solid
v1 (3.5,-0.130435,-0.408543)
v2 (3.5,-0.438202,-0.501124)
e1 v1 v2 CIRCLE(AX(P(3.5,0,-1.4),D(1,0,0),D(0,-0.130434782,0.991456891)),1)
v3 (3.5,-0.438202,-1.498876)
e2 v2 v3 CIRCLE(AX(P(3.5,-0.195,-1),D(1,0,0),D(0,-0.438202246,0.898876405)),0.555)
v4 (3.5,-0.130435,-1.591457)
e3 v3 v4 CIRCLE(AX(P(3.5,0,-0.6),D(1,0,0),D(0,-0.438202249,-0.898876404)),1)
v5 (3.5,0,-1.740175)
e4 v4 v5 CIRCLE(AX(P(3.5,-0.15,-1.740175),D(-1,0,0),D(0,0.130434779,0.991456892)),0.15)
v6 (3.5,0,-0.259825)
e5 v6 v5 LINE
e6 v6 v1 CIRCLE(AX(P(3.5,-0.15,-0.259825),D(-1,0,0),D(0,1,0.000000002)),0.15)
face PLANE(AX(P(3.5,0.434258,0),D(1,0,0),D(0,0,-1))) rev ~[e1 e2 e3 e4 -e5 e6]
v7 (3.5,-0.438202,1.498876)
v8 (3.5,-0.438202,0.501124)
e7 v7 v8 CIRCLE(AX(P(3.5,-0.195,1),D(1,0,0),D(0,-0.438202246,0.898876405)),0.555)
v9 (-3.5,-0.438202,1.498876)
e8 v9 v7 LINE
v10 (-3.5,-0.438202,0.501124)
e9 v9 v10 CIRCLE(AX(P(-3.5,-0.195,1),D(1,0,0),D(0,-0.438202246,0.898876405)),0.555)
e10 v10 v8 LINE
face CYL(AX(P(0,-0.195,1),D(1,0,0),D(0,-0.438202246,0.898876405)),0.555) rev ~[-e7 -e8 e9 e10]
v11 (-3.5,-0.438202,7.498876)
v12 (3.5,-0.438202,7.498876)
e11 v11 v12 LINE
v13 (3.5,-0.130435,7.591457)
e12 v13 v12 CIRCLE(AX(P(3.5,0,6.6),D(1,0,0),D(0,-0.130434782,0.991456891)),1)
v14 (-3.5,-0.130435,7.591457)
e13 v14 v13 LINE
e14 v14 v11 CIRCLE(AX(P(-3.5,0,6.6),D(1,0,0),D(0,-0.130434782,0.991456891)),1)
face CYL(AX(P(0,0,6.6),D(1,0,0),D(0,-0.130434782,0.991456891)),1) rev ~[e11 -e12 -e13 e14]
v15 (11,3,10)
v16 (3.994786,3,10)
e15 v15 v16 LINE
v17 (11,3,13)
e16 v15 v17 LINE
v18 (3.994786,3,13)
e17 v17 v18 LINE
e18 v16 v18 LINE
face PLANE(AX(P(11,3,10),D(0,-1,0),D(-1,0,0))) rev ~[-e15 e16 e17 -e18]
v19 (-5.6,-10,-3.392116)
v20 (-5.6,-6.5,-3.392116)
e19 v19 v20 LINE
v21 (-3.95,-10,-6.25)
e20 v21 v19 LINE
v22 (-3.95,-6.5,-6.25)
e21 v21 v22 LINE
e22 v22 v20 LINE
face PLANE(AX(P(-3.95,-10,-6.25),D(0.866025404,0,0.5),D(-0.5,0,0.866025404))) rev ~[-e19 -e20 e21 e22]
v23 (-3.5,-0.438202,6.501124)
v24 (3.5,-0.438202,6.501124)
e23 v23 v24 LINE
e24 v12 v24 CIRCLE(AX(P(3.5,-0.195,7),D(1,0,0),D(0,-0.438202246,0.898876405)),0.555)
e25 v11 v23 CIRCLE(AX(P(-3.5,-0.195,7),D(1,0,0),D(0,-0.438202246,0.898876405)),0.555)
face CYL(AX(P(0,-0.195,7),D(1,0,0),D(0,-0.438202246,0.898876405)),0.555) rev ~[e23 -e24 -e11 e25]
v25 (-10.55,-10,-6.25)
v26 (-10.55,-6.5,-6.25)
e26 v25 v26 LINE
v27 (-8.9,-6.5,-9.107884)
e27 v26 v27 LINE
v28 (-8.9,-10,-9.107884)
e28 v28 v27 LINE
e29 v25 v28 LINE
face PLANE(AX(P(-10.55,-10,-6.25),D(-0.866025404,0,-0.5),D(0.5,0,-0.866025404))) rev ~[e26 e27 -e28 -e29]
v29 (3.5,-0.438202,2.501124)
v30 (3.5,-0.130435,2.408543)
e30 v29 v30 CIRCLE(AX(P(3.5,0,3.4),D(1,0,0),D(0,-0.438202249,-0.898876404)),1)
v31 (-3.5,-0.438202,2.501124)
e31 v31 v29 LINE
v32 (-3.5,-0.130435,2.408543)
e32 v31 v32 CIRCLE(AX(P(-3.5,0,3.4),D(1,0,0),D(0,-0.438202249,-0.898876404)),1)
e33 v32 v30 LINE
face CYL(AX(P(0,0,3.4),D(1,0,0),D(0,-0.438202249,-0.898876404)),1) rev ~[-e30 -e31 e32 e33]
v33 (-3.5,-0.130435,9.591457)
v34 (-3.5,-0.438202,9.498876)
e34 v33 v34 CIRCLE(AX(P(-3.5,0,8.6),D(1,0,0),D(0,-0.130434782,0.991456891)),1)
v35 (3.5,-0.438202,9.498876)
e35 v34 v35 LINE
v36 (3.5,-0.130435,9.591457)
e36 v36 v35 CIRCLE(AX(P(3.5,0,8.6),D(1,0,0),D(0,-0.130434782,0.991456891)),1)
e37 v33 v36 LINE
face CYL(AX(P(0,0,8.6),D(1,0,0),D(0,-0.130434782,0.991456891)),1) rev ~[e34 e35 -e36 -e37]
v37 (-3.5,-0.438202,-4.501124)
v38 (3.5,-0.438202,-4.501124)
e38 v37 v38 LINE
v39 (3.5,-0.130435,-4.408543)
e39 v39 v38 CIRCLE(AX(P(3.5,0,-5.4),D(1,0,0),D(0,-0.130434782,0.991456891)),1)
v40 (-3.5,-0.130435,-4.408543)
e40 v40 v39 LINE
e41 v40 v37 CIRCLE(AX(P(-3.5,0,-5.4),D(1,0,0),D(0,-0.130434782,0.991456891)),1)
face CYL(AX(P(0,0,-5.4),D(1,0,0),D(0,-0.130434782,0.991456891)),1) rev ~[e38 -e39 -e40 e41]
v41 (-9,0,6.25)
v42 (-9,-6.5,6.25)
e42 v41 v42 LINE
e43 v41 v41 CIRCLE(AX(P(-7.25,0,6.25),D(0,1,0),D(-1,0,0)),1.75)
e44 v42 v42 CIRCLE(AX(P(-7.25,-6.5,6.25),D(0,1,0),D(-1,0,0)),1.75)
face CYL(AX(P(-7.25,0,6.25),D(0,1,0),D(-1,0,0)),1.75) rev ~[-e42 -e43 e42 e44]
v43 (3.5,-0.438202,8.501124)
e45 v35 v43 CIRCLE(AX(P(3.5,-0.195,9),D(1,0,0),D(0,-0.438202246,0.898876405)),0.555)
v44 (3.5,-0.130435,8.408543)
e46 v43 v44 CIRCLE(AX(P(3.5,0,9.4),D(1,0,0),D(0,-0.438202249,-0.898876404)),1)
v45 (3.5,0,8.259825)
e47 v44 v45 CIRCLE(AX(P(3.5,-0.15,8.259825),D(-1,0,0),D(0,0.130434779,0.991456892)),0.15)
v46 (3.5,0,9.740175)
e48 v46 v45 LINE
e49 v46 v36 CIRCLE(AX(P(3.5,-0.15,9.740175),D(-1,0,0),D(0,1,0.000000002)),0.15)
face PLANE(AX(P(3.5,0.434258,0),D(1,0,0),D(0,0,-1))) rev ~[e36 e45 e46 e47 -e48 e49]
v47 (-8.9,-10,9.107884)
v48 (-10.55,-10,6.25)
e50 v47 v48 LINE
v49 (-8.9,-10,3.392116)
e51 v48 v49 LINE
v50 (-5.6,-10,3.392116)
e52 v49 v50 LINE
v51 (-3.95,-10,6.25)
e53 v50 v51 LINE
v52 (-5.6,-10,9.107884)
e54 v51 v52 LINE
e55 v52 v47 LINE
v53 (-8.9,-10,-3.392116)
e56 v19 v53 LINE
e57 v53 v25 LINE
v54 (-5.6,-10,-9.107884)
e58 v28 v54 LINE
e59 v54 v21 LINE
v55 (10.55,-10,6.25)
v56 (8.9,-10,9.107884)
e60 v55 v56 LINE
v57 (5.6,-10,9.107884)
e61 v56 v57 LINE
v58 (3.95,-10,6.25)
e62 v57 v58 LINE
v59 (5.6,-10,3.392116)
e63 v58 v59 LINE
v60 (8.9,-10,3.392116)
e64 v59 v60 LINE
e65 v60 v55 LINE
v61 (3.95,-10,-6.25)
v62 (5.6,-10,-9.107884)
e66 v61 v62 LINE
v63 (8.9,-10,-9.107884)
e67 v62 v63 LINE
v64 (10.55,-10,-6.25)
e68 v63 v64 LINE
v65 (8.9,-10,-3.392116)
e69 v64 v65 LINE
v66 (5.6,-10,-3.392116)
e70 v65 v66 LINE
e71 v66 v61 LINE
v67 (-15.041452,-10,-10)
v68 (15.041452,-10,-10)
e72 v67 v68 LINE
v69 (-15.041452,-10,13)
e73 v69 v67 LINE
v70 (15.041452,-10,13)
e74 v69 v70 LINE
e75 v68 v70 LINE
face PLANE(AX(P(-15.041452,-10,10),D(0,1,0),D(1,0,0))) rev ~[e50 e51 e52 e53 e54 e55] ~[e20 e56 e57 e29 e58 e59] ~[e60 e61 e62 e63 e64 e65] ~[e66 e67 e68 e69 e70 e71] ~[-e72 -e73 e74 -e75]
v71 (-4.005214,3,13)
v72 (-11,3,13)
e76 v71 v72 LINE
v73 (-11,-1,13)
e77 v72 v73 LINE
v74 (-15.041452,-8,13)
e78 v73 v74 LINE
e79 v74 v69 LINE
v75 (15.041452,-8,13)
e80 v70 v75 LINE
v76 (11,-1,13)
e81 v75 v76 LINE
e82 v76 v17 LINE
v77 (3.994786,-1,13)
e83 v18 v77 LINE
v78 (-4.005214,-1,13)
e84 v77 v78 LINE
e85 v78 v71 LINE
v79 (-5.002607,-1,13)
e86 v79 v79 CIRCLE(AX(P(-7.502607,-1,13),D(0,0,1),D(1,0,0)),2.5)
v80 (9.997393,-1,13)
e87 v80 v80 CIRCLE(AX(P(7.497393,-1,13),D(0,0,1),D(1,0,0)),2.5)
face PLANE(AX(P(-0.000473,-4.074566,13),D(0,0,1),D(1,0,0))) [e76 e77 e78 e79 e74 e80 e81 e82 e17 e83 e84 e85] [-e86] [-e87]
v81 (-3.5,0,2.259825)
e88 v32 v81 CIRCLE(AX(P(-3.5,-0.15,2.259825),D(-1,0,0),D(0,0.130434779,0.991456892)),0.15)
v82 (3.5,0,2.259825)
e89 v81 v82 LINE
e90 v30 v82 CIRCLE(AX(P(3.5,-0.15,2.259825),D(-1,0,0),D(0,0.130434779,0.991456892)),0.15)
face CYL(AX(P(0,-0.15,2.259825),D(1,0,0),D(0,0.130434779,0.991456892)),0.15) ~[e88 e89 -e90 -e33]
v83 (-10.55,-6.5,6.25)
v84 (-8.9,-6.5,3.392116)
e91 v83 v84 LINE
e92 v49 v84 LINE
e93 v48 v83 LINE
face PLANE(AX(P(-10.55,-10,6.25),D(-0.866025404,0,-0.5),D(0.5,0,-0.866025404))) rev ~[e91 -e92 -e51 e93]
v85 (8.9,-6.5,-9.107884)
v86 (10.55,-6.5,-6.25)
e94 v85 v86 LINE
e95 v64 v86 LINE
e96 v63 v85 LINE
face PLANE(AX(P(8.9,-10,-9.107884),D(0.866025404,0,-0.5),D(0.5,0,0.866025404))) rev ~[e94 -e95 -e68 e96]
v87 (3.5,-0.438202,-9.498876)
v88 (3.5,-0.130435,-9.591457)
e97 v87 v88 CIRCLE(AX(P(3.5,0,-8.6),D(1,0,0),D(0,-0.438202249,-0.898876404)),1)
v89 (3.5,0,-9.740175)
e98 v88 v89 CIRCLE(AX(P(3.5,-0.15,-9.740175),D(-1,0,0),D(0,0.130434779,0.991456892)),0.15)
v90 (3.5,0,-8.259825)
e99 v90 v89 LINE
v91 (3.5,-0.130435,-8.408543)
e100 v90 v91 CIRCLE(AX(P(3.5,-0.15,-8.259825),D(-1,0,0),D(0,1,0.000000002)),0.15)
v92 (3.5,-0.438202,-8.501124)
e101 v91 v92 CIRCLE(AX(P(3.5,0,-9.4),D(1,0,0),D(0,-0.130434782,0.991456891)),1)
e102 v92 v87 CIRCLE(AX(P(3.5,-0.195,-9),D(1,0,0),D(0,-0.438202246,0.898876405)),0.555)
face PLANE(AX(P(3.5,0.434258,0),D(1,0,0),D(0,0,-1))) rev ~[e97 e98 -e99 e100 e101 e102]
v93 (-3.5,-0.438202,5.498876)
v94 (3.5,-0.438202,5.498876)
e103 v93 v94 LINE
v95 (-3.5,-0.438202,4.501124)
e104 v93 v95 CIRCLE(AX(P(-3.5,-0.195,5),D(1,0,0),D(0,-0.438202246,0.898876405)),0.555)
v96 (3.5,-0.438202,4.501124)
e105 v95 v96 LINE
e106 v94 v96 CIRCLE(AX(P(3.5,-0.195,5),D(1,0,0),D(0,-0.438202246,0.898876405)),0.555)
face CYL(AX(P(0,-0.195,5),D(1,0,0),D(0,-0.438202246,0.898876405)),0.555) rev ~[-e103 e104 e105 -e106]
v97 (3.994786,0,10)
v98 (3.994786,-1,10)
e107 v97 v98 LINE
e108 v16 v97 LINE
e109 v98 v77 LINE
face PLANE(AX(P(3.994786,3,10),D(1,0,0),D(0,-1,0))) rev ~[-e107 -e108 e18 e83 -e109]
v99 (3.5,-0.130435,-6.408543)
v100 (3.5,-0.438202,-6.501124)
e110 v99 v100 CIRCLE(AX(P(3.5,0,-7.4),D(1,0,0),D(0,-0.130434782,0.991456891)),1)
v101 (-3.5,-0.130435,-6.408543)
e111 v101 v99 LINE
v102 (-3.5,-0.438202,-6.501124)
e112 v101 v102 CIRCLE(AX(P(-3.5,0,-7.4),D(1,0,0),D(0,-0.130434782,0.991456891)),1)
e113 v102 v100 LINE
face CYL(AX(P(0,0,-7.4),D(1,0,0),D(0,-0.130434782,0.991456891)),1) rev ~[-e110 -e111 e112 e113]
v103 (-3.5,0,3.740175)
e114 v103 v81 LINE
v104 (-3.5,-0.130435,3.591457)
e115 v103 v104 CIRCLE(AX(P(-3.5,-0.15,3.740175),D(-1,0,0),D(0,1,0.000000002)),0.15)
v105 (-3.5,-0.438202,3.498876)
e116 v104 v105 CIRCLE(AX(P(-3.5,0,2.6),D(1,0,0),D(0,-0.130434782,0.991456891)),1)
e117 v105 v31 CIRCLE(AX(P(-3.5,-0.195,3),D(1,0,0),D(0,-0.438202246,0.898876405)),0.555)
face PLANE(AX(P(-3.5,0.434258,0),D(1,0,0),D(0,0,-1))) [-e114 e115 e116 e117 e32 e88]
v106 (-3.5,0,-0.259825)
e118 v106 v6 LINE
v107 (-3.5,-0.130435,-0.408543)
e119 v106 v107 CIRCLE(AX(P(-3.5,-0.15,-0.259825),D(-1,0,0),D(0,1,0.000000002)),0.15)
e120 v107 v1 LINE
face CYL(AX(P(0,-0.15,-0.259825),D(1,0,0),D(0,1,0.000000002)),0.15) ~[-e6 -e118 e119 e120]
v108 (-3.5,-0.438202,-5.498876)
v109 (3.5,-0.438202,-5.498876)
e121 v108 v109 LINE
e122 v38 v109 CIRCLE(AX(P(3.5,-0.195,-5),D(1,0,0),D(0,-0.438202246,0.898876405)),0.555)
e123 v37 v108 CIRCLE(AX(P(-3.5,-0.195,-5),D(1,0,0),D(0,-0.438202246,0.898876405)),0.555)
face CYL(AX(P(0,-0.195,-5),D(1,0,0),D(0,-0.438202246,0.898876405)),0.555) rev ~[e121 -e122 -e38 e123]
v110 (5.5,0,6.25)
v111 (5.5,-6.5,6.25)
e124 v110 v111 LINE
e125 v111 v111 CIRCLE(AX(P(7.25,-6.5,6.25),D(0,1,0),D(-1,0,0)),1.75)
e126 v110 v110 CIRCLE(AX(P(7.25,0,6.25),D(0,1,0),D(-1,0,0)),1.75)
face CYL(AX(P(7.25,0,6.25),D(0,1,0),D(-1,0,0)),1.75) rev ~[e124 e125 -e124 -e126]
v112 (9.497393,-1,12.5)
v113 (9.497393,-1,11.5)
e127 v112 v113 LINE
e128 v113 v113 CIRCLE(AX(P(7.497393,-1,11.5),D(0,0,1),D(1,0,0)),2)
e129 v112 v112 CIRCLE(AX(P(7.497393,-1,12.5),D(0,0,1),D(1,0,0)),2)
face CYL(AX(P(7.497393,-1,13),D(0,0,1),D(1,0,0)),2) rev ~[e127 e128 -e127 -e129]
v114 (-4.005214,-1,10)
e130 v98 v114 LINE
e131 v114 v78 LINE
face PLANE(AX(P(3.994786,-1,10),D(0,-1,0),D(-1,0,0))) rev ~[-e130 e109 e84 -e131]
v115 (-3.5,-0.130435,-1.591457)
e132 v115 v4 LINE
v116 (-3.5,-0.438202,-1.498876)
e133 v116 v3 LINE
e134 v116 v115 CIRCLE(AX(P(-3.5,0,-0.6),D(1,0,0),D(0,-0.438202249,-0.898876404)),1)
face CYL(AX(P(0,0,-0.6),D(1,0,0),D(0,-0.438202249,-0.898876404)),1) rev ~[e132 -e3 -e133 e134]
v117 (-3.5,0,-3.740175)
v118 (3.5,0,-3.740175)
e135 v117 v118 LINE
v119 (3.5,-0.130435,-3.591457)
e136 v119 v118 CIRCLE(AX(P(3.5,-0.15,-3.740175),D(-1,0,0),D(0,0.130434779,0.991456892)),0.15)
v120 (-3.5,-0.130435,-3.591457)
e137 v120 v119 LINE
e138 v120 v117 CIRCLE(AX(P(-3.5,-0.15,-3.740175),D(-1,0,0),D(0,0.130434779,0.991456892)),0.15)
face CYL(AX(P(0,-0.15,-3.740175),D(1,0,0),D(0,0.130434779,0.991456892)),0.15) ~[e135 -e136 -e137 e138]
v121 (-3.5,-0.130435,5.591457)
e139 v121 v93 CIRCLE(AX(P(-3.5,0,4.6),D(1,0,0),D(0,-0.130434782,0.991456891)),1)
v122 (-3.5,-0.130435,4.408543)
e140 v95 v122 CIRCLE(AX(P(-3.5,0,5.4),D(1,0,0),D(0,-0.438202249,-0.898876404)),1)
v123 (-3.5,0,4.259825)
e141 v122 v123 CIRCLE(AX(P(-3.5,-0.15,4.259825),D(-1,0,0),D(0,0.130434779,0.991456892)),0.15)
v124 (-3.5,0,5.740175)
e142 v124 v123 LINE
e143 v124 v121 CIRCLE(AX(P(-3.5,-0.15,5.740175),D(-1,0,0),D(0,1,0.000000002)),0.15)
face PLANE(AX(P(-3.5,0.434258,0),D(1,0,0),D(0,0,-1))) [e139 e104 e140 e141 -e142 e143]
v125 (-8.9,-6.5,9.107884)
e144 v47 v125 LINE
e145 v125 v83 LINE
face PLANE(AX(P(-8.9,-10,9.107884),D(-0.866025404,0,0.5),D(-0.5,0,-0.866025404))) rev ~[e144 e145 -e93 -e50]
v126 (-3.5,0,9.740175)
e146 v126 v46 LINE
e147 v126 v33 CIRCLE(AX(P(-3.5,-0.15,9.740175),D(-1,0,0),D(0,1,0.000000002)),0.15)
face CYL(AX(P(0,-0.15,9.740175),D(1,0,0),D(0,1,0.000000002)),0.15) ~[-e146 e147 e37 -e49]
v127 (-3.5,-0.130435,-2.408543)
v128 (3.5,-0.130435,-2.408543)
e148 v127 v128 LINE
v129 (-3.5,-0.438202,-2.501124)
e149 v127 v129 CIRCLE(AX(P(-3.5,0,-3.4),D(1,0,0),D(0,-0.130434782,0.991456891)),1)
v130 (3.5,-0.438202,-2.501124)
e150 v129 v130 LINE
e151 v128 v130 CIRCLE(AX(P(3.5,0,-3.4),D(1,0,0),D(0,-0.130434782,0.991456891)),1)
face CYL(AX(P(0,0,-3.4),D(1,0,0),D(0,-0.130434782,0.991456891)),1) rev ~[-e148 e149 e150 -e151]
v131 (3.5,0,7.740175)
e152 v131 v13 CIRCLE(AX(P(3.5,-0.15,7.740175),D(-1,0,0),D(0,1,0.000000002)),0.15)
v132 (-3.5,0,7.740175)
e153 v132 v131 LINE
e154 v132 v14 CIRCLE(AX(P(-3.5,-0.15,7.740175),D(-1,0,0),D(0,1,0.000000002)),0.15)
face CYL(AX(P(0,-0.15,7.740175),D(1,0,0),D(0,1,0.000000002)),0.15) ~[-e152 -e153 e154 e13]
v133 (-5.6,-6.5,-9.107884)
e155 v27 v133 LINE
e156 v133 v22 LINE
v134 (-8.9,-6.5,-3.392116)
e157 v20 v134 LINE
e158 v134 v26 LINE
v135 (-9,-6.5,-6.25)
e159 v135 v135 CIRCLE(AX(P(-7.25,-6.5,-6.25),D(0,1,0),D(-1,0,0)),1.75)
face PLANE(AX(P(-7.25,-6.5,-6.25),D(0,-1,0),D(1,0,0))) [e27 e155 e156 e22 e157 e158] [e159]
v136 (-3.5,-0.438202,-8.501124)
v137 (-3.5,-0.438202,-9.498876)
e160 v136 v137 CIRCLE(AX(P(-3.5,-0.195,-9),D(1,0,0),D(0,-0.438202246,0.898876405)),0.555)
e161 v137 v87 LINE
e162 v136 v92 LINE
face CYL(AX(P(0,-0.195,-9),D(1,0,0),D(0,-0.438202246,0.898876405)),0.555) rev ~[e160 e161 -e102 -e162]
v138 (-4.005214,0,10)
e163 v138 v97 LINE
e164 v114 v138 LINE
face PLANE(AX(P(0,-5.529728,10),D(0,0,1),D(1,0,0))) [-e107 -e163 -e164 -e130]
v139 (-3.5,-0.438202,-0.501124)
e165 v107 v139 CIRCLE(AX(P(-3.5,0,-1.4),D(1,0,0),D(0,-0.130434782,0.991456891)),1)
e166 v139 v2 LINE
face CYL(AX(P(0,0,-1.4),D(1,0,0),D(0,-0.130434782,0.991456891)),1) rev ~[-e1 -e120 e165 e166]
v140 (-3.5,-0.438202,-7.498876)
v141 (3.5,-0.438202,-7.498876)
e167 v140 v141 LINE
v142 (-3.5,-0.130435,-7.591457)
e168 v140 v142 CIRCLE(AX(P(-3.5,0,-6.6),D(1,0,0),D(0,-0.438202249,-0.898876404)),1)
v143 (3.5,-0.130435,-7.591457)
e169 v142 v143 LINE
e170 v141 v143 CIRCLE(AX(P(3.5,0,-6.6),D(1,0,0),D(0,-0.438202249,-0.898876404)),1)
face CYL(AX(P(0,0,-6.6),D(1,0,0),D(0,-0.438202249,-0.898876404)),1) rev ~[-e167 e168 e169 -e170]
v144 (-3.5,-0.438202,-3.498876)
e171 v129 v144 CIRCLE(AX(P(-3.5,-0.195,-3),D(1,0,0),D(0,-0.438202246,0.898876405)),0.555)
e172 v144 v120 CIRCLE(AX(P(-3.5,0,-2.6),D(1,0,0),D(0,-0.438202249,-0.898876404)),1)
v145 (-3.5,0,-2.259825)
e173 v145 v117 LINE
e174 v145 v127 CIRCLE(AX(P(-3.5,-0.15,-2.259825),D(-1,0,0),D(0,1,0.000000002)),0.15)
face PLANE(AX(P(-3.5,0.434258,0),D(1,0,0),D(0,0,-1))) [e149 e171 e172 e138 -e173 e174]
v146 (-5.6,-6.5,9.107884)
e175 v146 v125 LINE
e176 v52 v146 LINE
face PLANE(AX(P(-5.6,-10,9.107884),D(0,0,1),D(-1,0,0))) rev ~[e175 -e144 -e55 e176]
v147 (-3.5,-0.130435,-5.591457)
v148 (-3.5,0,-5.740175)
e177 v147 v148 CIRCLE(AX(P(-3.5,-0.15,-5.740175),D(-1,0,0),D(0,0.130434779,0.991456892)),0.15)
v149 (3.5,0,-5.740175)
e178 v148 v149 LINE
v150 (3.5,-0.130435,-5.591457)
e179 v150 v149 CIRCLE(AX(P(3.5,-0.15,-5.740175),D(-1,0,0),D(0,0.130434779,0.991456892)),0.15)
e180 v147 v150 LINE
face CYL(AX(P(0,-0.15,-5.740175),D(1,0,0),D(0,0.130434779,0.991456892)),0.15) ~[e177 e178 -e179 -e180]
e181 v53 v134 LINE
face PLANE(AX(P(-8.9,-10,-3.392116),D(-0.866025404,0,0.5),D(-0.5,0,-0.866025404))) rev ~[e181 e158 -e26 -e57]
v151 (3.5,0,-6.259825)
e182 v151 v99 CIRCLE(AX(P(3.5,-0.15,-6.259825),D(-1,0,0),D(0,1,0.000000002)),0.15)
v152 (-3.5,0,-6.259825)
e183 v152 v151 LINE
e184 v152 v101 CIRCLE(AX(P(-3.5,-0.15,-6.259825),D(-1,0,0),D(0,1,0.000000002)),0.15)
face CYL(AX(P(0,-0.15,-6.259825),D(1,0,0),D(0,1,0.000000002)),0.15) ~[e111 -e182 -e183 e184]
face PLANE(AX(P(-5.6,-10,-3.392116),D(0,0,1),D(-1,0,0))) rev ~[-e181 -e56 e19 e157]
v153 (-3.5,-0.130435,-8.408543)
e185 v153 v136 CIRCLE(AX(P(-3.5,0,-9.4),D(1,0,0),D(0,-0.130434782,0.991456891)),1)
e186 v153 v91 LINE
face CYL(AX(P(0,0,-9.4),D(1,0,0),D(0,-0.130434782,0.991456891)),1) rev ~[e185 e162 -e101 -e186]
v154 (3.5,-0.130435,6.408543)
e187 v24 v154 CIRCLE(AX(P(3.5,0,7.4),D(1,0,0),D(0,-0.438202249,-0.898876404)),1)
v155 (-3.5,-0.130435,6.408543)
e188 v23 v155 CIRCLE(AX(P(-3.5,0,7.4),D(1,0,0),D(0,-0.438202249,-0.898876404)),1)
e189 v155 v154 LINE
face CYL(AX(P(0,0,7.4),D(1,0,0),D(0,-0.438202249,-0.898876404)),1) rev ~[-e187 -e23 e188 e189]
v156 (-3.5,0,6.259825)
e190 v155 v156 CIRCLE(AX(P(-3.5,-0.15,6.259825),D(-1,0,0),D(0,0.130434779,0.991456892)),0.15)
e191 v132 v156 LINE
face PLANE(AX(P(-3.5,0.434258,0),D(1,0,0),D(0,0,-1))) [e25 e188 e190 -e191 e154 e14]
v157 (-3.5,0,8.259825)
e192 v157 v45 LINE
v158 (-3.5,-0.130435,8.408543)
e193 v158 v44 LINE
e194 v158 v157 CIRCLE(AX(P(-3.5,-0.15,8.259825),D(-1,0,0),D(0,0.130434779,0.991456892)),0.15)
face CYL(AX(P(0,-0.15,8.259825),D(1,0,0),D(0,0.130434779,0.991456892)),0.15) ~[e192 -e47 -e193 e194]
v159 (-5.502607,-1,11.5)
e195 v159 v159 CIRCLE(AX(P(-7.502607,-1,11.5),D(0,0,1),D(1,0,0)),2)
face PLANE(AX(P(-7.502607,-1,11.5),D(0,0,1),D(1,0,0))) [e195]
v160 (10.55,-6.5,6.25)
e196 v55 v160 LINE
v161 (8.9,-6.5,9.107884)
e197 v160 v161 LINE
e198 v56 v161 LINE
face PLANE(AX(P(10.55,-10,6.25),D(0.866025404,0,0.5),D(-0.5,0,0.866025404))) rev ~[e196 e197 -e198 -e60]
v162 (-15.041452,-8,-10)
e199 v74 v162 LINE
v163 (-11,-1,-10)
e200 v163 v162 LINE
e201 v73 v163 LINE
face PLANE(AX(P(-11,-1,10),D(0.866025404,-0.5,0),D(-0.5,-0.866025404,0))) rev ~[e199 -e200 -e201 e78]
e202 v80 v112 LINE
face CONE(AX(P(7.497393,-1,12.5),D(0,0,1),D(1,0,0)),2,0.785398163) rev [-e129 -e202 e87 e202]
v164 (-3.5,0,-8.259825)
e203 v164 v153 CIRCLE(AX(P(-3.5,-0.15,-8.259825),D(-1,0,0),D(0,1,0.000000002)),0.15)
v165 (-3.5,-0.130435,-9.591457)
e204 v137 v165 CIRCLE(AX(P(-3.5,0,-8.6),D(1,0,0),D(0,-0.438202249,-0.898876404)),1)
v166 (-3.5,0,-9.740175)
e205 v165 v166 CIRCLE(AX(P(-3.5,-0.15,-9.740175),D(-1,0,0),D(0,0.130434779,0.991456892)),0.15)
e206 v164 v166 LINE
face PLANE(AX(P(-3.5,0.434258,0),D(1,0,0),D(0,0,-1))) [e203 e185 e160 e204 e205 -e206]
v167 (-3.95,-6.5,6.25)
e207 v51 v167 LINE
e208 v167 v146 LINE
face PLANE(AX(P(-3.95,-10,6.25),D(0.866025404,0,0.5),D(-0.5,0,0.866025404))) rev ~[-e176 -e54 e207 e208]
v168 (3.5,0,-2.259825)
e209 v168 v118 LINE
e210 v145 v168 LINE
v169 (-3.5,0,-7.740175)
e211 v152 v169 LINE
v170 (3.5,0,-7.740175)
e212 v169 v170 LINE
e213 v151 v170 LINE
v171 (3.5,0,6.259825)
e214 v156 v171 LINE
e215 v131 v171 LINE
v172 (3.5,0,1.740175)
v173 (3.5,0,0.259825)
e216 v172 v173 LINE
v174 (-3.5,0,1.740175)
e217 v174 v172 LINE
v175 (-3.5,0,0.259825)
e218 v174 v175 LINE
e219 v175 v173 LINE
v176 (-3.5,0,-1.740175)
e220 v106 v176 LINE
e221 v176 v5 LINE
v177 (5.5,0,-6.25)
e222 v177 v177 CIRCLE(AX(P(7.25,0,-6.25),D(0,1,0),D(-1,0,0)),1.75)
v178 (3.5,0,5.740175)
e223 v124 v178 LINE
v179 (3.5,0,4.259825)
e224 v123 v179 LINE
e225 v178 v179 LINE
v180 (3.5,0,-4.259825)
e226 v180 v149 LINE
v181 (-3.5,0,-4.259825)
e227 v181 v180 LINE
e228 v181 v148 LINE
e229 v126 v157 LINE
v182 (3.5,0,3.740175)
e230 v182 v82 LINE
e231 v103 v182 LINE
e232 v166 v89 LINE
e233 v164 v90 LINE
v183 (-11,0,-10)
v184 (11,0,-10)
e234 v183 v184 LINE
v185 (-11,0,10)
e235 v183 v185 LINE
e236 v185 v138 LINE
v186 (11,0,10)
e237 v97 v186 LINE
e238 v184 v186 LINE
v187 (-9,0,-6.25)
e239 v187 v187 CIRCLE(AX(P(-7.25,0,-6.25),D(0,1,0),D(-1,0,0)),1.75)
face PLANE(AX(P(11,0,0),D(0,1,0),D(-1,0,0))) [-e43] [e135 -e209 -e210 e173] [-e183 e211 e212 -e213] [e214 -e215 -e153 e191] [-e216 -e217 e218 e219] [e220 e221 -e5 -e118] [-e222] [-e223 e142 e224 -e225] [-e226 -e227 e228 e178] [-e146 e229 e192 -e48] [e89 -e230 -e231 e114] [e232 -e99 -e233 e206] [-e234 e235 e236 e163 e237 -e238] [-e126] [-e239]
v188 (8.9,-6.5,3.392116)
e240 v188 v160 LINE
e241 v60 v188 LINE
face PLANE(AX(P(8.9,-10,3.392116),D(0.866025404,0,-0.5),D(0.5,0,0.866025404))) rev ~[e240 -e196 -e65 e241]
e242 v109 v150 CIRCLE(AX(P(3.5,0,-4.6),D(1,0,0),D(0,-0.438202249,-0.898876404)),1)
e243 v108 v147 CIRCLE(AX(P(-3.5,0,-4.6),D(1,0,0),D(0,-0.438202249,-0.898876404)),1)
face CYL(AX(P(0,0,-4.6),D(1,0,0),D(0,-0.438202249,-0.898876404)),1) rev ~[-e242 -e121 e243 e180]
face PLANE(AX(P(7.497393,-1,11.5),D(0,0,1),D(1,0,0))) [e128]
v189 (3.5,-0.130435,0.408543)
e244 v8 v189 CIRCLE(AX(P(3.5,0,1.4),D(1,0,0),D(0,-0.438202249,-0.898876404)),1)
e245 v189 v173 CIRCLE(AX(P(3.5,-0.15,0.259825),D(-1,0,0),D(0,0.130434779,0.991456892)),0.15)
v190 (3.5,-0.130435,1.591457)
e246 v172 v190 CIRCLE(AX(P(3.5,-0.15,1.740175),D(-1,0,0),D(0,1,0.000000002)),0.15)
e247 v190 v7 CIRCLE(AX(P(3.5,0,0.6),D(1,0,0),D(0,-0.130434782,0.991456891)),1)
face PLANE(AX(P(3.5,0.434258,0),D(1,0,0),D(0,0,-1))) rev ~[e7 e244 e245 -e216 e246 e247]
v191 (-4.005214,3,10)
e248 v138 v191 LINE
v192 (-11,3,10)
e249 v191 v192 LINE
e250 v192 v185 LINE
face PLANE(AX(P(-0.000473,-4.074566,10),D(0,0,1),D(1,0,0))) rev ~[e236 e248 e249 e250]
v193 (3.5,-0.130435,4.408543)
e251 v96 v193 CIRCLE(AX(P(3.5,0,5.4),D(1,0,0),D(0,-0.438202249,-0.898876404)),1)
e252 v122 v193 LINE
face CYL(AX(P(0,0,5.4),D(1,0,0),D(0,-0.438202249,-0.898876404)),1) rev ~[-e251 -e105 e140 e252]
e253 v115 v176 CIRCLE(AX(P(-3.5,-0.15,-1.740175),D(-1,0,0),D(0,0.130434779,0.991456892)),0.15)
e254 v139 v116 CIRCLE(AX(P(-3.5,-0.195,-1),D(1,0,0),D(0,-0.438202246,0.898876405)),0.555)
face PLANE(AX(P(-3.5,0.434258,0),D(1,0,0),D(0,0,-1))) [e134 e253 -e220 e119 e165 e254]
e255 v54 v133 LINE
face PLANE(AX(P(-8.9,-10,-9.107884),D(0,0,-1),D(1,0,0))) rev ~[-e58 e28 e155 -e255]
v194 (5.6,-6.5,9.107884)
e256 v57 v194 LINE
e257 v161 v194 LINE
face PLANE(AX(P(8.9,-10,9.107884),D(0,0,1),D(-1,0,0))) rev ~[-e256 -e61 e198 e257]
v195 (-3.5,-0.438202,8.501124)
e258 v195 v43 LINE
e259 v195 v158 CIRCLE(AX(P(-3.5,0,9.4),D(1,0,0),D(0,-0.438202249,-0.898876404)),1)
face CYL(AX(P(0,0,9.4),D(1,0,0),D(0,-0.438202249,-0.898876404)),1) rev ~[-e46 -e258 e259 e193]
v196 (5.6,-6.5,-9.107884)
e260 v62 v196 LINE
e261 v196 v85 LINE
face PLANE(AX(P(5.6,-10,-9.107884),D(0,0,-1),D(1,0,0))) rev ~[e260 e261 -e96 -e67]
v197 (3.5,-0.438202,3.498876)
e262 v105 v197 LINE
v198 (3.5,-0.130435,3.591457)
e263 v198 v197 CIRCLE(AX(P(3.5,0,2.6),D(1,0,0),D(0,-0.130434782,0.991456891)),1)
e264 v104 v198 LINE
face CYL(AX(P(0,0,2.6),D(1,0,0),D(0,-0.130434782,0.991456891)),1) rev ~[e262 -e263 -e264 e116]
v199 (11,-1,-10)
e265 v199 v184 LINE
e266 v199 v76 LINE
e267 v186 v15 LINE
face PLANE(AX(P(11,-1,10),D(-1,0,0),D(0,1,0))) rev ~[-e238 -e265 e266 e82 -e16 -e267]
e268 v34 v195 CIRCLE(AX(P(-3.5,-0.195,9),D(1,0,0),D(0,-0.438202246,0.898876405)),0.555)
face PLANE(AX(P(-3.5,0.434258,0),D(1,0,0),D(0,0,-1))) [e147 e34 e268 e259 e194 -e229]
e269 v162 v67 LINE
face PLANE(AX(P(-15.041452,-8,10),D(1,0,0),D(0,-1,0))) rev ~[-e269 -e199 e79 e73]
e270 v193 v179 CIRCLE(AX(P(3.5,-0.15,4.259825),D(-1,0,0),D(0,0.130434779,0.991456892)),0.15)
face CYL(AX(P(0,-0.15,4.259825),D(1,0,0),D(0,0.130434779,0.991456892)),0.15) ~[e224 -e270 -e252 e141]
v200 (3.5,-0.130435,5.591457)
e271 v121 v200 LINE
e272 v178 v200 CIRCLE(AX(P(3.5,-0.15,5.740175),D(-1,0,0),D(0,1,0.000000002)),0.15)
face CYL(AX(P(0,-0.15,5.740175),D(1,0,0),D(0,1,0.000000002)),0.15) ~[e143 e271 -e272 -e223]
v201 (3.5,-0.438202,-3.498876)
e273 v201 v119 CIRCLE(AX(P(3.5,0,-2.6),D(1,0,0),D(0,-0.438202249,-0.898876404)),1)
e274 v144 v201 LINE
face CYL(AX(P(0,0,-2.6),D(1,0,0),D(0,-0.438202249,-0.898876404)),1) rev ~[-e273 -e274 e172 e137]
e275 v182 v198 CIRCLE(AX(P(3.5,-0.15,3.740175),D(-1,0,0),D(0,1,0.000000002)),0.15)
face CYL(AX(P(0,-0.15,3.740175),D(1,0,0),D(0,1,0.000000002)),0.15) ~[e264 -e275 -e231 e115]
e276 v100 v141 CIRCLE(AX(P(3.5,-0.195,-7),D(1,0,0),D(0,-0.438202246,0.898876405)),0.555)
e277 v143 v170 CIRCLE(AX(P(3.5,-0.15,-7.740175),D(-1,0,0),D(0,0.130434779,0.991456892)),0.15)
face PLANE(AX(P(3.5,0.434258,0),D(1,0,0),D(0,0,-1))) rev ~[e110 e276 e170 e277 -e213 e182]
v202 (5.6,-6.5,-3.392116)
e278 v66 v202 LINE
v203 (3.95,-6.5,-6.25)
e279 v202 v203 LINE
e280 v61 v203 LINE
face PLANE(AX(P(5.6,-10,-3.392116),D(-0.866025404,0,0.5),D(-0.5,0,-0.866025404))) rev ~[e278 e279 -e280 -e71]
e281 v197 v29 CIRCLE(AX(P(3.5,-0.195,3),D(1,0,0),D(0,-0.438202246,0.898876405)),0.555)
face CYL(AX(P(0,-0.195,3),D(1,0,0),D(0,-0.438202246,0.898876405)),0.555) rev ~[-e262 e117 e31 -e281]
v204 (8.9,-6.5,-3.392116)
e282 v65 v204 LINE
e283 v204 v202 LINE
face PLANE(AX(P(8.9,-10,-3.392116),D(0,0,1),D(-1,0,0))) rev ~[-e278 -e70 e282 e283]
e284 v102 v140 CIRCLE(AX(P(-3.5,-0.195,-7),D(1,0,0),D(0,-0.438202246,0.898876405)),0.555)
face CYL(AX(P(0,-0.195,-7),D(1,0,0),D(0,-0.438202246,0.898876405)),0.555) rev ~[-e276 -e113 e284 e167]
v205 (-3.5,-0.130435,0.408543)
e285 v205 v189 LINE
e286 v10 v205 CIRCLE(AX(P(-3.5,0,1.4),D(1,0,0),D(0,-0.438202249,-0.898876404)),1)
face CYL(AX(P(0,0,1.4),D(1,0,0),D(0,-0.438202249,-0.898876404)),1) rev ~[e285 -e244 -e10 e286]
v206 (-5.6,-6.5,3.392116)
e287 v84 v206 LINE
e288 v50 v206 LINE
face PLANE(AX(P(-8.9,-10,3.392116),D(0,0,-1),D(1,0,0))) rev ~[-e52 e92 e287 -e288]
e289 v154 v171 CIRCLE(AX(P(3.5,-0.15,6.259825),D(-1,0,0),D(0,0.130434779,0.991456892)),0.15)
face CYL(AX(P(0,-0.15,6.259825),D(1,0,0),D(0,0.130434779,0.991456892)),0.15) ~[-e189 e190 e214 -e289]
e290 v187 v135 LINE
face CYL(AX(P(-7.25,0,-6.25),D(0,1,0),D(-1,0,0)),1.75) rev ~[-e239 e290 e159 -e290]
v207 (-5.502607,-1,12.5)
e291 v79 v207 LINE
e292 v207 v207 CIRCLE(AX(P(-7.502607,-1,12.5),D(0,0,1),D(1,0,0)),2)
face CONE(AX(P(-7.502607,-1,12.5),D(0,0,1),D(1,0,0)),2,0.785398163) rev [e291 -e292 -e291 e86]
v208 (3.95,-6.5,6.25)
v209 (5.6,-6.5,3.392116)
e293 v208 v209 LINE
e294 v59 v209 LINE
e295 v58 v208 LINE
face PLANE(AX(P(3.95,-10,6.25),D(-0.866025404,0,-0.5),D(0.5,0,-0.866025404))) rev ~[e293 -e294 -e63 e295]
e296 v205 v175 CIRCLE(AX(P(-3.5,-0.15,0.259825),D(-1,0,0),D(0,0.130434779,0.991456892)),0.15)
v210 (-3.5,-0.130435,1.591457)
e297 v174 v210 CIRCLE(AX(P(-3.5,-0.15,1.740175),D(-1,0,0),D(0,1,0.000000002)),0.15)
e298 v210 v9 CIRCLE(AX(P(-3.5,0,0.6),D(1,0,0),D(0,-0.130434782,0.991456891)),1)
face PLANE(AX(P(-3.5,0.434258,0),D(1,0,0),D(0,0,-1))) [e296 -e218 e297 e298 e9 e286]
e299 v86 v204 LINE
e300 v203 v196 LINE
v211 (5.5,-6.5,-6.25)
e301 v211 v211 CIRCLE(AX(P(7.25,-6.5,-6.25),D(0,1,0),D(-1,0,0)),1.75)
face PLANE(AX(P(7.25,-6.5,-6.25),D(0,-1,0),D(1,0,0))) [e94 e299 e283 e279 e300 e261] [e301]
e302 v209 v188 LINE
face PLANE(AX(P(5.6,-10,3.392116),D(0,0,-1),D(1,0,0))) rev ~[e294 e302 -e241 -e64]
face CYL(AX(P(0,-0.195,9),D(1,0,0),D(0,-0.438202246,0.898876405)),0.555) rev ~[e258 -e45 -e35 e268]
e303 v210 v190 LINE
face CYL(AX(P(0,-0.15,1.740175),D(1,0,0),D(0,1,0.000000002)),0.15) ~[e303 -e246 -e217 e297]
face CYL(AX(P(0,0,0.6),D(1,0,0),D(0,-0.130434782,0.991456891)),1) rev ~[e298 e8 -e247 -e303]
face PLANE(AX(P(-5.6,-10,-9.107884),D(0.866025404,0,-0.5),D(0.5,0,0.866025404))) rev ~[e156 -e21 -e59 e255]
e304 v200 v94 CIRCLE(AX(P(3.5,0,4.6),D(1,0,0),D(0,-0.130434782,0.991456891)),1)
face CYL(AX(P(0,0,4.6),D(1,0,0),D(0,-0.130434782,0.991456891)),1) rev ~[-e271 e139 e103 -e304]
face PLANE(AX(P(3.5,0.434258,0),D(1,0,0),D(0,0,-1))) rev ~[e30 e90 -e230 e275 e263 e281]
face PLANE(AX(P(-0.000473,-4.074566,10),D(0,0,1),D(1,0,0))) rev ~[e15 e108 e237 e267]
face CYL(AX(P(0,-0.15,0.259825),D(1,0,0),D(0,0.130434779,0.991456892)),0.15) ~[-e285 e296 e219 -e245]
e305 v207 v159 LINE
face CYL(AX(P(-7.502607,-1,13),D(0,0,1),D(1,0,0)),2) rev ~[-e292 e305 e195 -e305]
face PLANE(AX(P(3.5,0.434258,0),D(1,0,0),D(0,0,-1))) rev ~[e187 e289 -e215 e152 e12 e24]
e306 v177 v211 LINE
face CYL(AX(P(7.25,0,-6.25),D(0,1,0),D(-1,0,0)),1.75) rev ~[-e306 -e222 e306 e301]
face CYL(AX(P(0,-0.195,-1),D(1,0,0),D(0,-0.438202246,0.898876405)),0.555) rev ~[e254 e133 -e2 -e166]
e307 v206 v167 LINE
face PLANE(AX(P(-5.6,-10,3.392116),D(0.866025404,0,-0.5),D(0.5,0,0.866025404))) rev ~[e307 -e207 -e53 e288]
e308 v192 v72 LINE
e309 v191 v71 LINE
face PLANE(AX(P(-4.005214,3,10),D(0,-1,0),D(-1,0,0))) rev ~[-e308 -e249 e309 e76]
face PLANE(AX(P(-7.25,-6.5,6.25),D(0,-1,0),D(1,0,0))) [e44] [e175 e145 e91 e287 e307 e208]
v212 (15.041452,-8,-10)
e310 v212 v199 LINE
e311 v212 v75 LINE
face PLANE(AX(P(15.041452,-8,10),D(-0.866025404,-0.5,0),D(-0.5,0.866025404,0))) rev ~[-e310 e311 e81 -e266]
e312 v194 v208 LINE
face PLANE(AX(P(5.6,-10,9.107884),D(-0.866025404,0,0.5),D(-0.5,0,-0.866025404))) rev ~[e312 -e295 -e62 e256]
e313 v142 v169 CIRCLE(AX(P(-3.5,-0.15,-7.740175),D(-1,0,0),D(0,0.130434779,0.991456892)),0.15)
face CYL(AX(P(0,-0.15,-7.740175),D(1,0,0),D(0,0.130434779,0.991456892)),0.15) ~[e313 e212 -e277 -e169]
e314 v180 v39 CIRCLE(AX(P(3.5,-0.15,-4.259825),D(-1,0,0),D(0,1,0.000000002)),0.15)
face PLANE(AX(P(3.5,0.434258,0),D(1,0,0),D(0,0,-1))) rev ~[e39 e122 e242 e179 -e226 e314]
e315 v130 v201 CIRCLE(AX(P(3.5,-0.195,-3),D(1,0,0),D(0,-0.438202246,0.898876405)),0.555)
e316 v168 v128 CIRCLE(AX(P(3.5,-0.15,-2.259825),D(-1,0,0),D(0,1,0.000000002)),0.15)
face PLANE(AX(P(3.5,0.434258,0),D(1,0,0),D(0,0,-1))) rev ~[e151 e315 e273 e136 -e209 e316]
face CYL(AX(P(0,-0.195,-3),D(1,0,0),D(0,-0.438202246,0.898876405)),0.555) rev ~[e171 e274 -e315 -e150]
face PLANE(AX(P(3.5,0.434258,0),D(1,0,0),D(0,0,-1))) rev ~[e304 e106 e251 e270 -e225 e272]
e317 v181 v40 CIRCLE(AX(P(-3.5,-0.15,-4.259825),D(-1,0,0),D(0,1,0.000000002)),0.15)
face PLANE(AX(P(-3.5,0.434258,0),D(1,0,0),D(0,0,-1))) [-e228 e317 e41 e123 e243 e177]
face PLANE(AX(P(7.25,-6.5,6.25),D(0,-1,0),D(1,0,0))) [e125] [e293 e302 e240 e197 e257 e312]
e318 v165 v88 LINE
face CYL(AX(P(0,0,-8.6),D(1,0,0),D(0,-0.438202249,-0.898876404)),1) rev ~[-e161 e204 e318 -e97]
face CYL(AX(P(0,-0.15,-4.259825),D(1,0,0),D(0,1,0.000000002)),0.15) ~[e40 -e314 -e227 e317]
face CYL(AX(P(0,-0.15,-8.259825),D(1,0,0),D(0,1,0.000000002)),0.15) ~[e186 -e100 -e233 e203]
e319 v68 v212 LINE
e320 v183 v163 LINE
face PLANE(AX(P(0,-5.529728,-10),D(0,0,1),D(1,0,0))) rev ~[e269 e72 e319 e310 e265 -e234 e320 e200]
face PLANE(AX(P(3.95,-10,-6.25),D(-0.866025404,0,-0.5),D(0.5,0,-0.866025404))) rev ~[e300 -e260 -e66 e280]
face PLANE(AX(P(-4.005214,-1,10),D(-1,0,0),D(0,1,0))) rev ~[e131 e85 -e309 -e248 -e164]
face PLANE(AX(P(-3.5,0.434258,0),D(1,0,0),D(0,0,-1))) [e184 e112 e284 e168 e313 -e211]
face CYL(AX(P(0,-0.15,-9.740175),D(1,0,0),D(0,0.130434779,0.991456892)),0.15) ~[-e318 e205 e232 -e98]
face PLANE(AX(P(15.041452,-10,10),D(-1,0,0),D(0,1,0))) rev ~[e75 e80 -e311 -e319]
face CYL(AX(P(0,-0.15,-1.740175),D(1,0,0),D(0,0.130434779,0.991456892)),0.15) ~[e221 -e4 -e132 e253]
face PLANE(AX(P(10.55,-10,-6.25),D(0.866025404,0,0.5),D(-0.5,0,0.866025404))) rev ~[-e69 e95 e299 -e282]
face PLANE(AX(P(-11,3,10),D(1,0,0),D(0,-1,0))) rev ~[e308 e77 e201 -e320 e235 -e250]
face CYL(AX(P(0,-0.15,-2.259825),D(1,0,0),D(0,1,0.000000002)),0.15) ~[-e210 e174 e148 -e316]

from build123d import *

# Parameters (mm, degrees)
ESTRUSIONE_ESTRUSIONE1_DEPTH = 10
TAGLIO_ESTRUSIONE6_DEPTH     = 3.5
SCHIZZO3_R                   = 1.75
TAGLIO_ESTRUSIONE7_DEPTH     = 21.645708387
ESTRUSIONE_ESTRUSIONE2_DEPTH = 3
SCHIZZO5_R                   = 2
TAGLIO_ESTRUSIONE8_DEPTH     = 1.5
SMUSSO2_SIZE                 = 0.5
TAGLIO_ESTRUSIONE9_DEPTH     = 3.5


with BuildPart() as part:
    # Schizzo1 → Estrusione-Estrusione1 (new, symmetric)
    with BuildSketch(Plane.XY):
        Polygon((11, -1), (11, 0), (-11, 0), (-11, -1), (-15.041451884, -8), (-15.041451884, -10), (15.041451884, -10), (15.041451884, -8), align=None)
    extrude(amount=ESTRUSIONE_ESTRUSIONE1_DEPTH, both=True)

    # Schizzo2 → Taglio-Estrusione6 (cut, symmetric)
    with BuildSketch(Plane(origin=(0, 0, 0), x_dir=(0, 0, -1), z_dir=(1, 0, 0))):
        with BuildLine():
            Line((-10, 0), (-9.740175425, 0))
            ThreePointArc((-9.740175425, 0), (-9.641268354, -0.037228588), (-9.591456891, -0.130434783))
            ThreePointArc((-9.591456891, -0.130434783), (-9.557611714, -0.288062154), (-9.498876404, -0.438202247))
            ThreePointArc((-9.498876404, -0.438202247), (-9, -0.75), (-8.501123596, -0.438202247))
            ThreePointArc((-8.501123596, -0.438202247), (-8.442388286, -0.288062154), (-8.408543109, -0.130434783))
            ThreePointArc((-8.408543109, -0.130434783), (-8.358731646, -0.037228588), (-8.259824575, 0))
            Line((-8.259824575, 0), (-8, 0))
            Line((-8, 0), (-7.740175425, 0))
            ThreePointArc((-7.740175425, 0), (-7.641268354, -0.037228588), (-7.591456891, -0.130434783))
            ThreePointArc((-7.591456891, -0.130434783), (-7.557611714, -0.288062154), (-7.498876404, -0.438202247))
            ThreePointArc((-7.498876404, -0.438202247), (-7, -0.75), (-6.501123596, -0.438202247))
            ThreePointArc((-6.501123596, -0.438202247), (-6.442388286, -0.288062154), (-6.408543109, -0.130434783))
            ThreePointArc((-6.408543109, -0.130434783), (-6.358731646, -0.037228588), (-6.259824575, 0))
            Line((-6.259824575, 0), (-6, 0))
            Line((-6, 0), (-5.740175425, 0))
            ThreePointArc((-5.740175425, 0), (-5.641268354, -0.037228588), (-5.591456891, -0.130434783))
            ThreePointArc((-5.591456891, -0.130434783), (-5.557611714, -0.288062154), (-5.498876404, -0.438202247))
            ThreePointArc((-5.498876404, -0.438202247), (-5, -0.75), (-4.501123596, -0.438202247))
            ThreePointArc((-4.501123596, -0.438202247), (-4.442388286, -0.288062154), (-4.408543109, -0.130434783))
            ThreePointArc((-4.408543109, -0.130434783), (-4.358731646, -0.037228588), (-4.259824575, 0))
            Line((-4.259824575, 0), (-4, 0))
            Line((-4, 0), (-3.740175425, 0))
            ThreePointArc((-3.740175425, 0), (-3.641268354, -0.037228588), (-3.591456891, -0.130434783))
            ThreePointArc((-3.591456891, -0.130434783), (-3.557611714, -0.288062154), (-3.498876404, -0.438202247))
            ThreePointArc((-3.498876404, -0.438202247), (-3, -0.75), (-2.501123596, -0.438202247))
            ThreePointArc((-2.501123596, -0.438202247), (-2.442388286, -0.288062154), (-2.408543109, -0.130434783))
            ThreePointArc((-2.408543109, -0.130434783), (-2.358731646, -0.037228588), (-2.259824575, 0))
            Line((-2.259824575, 0), (-2, 0))
            Line((-2, 0), (-1.740175425, 0))
            ThreePointArc((-1.740175425, 0), (-1.641268354, -0.037228588), (-1.591456891, -0.130434783))
            ThreePointArc((-1.591456891, -0.130434783), (-1.557611714, -0.288062154), (-1.498876404, -0.438202247))
            ThreePointArc((-1.498876404, -0.438202247), (-1, -0.75), (-0.501123596, -0.438202247))
            ThreePointArc((-0.501123596, -0.438202247), (-0.442388286, -0.288062154), (-0.408543109, -0.130434783))
            ThreePointArc((-0.408543109, -0.130434783), (-0.358731646, -0.037228588), (-0.259824575, 0))
            Line((-0.259824575, 0), (0, 0))
            Line((0, 0), (0.259824575, 0))
            ThreePointArc((0.259824575, 0), (0.358731646, -0.037228588), (0.408543109, -0.130434783))
            ThreePointArc((0.408543109, -0.130434783), (0.442388286, -0.288062154), (0.501123596, -0.438202247))
            ThreePointArc((0.501123596, -0.438202247), (1, -0.75), (1.498876404, -0.438202247))
            ThreePointArc((1.498876404, -0.438202247), (1.557611714, -0.288062154), (1.591456891, -0.130434783))
            ThreePointArc((1.591456891, -0.130434783), (1.641268354, -0.037228588), (1.740175425, 0))
            Line((1.740175425, 0), (2, 0))
            Line((2, 0), (2.259824575, 0))
            ThreePointArc((2.259824575, 0), (2.358731646, -0.037228588), (2.408543109, -0.130434783))
            ThreePointArc((2.408543109, -0.130434783), (2.442388286, -0.288062154), (2.501123596, -0.438202247))
            ThreePointArc((2.501123596, -0.438202247), (3, -0.75), (3.498876404, -0.438202247))
            ThreePointArc((3.498876404, -0.438202247), (3.557611714, -0.288062154), (3.591456891, -0.130434783))
            ThreePointArc((3.591456891, -0.130434783), (3.641268354, -0.037228588), (3.740175425, 0))
            Line((3.740175425, 0), (4, 0))
            Line((4, 0), (4.259824575, 0))
            ThreePointArc((4.259824575, 0), (4.358731646, -0.037228588), (4.408543109, -0.130434783))
            ThreePointArc((4.408543109, -0.130434783), (4.442388286, -0.288062154), (4.501123596, -0.438202247))
            ThreePointArc((4.501123596, -0.438202247), (5, -0.75), (5.498876404, -0.438202247))
            ThreePointArc((5.498876404, -0.438202247), (5.557611714, -0.288062154), (5.591456891, -0.130434783))
            ThreePointArc((5.591456891, -0.130434783), (5.641268354, -0.037228588), (5.740175425, 0))
            Line((5.740175425, 0), (6, 0))
            Line((6, 0), (6.259824575, 0))
            ThreePointArc((6.259824575, 0), (6.358731646, -0.037228588), (6.408543109, -0.130434783))
            ThreePointArc((6.408543109, -0.130434783), (6.442388286, -0.288062154), (6.501123596, -0.438202247))
            ThreePointArc((6.501123596, -0.438202247), (7, -0.75), (7.498876404, -0.438202247))
            ThreePointArc((7.498876404, -0.438202247), (7.557611714, -0.288062154), (7.591456891, -0.130434783))
            ThreePointArc((7.591456891, -0.130434783), (7.641268354, -0.037228588), (7.740175425, 0))
            Line((7.740175425, 0), (8, 0))
            Line((8, 0), (8.259824575, 0))
            ThreePointArc((8.259824575, 0), (8.358731646, -0.037228588), (8.408543109, -0.130434783))
            ThreePointArc((8.408543109, -0.130434783), (8.442388286, -0.288062154), (8.501123596, -0.438202247))
            ThreePointArc((8.501123596, -0.438202247), (9, -0.75), (9.498876404, -0.438202247))
            ThreePointArc((9.498876404, -0.438202247), (9.557611714, -0.288062154), (9.591456891, -0.130434783))
            ThreePointArc((9.591456891, -0.130434783), (9.641268354, -0.037228588), (9.740175425, 0))
            Line((9.740175425, 0), (10, 0))
            Line((10, 0), (10, 1.47712545))
            Line((10, 1.47712545), (-10, 1.47712545))
            Line((-10, 1.47712545), (-10, 0))
        make_face()
    extrude(amount=TAGLIO_ESTRUSIONE6_DEPTH, both=True, mode=Mode.SUBTRACT)

    # Schizzo3 → Taglio-Estrusione7 (cut, through all)
    with BuildSketch(Plane(origin=(0, 0, 0), x_dir=(1, 0, 0), z_dir=(0, 1, 0))):
        with Locations(Location((7.25, 6.25, 0), (0, 0, 180))):
            Circle(SCHIZZO3_R)
        with Locations(Location((7.25, -6.25, 0), (0, 0, 180))):
            Circle(SCHIZZO3_R)
        with Locations(Location((-7.25, -6.25, 0), (0, 0, 180))):
            Circle(SCHIZZO3_R)
        with Locations(Location((-7.25, 6.25, 0), (0, 0, 180))):
            Circle(SCHIZZO3_R)
    extrude(amount=-TAGLIO_ESTRUSIONE7_DEPTH, mode=Mode.SUBTRACT)

    # Schizzo4 → Estrusione-Estrusione2 (add)
    with BuildSketch(Plane.XY.offset(10)):
        Polygon((-15.041451884, -10), (15.041451884, -10), (15.041451884, -8), (11, -1), (11, 3), (3.994785695, 3), (3.994785695, -1), (-4.005214305, -1), (-4.005214305, 3), (-11, 3), (-11, -1), (-15.041451884, -8), align=None)
    extrude(amount=ESTRUSIONE_ESTRUSIONE2_DEPTH)

    # Schizzo5 → Taglio-Estrusione8 (cut)
    with BuildSketch(Plane.XY.offset(13)):
        with Locations((7.497392847, -1)):
            Circle(SCHIZZO5_R)
        with Locations((-7.502607153, -1)):
            Circle(SCHIZZO5_R)
    extrude(amount=-TAGLIO_ESTRUSIONE8_DEPTH, mode=Mode.SUBTRACT)

    # Smusso2
    smusso2_edges = [part.edges().sort_by_distance(p)[0] for p in [
        (5.497392847, -1, 13),
        (-9.502607153, -1, 13),
    ]]
    chamfer(smusso2_edges, length=SMUSSO2_SIZE)

    # Schizzo6 → Taglio-Estrusione9 (cut)
    with BuildSketch(Plane.XZ.offset(10)):
        Polygon((-8.9, 9.107883832), (-10.55, 6.25), (-8.9, 3.392116168), (-5.6, 3.392116168), (-3.95, 6.25), (-5.6, 9.107883832), align=None)
        Polygon((-5.6, -3.392116168), (-8.9, -3.392116168), (-10.55, -6.25), (-8.9, -9.107883832), (-5.6, -9.107883832), (-3.95, -6.25), align=None)
        Polygon((10.55, -6.25), (8.9, -3.392116168), (5.6, -3.392116168), (3.95, -6.25), (5.6, -9.107883832), (8.9, -9.107883832), align=None)
        Polygon((5.6, 3.392116168), (8.9, 3.392116168), (10.55, 6.25), (8.9, 9.107883832), (5.6, 9.107883832), (3.95, 6.25), align=None)
    extrude(amount=-TAGLIO_ESTRUSIONE9_DEPTH, mode=Mode.SUBTRACT)


solid = part.part
